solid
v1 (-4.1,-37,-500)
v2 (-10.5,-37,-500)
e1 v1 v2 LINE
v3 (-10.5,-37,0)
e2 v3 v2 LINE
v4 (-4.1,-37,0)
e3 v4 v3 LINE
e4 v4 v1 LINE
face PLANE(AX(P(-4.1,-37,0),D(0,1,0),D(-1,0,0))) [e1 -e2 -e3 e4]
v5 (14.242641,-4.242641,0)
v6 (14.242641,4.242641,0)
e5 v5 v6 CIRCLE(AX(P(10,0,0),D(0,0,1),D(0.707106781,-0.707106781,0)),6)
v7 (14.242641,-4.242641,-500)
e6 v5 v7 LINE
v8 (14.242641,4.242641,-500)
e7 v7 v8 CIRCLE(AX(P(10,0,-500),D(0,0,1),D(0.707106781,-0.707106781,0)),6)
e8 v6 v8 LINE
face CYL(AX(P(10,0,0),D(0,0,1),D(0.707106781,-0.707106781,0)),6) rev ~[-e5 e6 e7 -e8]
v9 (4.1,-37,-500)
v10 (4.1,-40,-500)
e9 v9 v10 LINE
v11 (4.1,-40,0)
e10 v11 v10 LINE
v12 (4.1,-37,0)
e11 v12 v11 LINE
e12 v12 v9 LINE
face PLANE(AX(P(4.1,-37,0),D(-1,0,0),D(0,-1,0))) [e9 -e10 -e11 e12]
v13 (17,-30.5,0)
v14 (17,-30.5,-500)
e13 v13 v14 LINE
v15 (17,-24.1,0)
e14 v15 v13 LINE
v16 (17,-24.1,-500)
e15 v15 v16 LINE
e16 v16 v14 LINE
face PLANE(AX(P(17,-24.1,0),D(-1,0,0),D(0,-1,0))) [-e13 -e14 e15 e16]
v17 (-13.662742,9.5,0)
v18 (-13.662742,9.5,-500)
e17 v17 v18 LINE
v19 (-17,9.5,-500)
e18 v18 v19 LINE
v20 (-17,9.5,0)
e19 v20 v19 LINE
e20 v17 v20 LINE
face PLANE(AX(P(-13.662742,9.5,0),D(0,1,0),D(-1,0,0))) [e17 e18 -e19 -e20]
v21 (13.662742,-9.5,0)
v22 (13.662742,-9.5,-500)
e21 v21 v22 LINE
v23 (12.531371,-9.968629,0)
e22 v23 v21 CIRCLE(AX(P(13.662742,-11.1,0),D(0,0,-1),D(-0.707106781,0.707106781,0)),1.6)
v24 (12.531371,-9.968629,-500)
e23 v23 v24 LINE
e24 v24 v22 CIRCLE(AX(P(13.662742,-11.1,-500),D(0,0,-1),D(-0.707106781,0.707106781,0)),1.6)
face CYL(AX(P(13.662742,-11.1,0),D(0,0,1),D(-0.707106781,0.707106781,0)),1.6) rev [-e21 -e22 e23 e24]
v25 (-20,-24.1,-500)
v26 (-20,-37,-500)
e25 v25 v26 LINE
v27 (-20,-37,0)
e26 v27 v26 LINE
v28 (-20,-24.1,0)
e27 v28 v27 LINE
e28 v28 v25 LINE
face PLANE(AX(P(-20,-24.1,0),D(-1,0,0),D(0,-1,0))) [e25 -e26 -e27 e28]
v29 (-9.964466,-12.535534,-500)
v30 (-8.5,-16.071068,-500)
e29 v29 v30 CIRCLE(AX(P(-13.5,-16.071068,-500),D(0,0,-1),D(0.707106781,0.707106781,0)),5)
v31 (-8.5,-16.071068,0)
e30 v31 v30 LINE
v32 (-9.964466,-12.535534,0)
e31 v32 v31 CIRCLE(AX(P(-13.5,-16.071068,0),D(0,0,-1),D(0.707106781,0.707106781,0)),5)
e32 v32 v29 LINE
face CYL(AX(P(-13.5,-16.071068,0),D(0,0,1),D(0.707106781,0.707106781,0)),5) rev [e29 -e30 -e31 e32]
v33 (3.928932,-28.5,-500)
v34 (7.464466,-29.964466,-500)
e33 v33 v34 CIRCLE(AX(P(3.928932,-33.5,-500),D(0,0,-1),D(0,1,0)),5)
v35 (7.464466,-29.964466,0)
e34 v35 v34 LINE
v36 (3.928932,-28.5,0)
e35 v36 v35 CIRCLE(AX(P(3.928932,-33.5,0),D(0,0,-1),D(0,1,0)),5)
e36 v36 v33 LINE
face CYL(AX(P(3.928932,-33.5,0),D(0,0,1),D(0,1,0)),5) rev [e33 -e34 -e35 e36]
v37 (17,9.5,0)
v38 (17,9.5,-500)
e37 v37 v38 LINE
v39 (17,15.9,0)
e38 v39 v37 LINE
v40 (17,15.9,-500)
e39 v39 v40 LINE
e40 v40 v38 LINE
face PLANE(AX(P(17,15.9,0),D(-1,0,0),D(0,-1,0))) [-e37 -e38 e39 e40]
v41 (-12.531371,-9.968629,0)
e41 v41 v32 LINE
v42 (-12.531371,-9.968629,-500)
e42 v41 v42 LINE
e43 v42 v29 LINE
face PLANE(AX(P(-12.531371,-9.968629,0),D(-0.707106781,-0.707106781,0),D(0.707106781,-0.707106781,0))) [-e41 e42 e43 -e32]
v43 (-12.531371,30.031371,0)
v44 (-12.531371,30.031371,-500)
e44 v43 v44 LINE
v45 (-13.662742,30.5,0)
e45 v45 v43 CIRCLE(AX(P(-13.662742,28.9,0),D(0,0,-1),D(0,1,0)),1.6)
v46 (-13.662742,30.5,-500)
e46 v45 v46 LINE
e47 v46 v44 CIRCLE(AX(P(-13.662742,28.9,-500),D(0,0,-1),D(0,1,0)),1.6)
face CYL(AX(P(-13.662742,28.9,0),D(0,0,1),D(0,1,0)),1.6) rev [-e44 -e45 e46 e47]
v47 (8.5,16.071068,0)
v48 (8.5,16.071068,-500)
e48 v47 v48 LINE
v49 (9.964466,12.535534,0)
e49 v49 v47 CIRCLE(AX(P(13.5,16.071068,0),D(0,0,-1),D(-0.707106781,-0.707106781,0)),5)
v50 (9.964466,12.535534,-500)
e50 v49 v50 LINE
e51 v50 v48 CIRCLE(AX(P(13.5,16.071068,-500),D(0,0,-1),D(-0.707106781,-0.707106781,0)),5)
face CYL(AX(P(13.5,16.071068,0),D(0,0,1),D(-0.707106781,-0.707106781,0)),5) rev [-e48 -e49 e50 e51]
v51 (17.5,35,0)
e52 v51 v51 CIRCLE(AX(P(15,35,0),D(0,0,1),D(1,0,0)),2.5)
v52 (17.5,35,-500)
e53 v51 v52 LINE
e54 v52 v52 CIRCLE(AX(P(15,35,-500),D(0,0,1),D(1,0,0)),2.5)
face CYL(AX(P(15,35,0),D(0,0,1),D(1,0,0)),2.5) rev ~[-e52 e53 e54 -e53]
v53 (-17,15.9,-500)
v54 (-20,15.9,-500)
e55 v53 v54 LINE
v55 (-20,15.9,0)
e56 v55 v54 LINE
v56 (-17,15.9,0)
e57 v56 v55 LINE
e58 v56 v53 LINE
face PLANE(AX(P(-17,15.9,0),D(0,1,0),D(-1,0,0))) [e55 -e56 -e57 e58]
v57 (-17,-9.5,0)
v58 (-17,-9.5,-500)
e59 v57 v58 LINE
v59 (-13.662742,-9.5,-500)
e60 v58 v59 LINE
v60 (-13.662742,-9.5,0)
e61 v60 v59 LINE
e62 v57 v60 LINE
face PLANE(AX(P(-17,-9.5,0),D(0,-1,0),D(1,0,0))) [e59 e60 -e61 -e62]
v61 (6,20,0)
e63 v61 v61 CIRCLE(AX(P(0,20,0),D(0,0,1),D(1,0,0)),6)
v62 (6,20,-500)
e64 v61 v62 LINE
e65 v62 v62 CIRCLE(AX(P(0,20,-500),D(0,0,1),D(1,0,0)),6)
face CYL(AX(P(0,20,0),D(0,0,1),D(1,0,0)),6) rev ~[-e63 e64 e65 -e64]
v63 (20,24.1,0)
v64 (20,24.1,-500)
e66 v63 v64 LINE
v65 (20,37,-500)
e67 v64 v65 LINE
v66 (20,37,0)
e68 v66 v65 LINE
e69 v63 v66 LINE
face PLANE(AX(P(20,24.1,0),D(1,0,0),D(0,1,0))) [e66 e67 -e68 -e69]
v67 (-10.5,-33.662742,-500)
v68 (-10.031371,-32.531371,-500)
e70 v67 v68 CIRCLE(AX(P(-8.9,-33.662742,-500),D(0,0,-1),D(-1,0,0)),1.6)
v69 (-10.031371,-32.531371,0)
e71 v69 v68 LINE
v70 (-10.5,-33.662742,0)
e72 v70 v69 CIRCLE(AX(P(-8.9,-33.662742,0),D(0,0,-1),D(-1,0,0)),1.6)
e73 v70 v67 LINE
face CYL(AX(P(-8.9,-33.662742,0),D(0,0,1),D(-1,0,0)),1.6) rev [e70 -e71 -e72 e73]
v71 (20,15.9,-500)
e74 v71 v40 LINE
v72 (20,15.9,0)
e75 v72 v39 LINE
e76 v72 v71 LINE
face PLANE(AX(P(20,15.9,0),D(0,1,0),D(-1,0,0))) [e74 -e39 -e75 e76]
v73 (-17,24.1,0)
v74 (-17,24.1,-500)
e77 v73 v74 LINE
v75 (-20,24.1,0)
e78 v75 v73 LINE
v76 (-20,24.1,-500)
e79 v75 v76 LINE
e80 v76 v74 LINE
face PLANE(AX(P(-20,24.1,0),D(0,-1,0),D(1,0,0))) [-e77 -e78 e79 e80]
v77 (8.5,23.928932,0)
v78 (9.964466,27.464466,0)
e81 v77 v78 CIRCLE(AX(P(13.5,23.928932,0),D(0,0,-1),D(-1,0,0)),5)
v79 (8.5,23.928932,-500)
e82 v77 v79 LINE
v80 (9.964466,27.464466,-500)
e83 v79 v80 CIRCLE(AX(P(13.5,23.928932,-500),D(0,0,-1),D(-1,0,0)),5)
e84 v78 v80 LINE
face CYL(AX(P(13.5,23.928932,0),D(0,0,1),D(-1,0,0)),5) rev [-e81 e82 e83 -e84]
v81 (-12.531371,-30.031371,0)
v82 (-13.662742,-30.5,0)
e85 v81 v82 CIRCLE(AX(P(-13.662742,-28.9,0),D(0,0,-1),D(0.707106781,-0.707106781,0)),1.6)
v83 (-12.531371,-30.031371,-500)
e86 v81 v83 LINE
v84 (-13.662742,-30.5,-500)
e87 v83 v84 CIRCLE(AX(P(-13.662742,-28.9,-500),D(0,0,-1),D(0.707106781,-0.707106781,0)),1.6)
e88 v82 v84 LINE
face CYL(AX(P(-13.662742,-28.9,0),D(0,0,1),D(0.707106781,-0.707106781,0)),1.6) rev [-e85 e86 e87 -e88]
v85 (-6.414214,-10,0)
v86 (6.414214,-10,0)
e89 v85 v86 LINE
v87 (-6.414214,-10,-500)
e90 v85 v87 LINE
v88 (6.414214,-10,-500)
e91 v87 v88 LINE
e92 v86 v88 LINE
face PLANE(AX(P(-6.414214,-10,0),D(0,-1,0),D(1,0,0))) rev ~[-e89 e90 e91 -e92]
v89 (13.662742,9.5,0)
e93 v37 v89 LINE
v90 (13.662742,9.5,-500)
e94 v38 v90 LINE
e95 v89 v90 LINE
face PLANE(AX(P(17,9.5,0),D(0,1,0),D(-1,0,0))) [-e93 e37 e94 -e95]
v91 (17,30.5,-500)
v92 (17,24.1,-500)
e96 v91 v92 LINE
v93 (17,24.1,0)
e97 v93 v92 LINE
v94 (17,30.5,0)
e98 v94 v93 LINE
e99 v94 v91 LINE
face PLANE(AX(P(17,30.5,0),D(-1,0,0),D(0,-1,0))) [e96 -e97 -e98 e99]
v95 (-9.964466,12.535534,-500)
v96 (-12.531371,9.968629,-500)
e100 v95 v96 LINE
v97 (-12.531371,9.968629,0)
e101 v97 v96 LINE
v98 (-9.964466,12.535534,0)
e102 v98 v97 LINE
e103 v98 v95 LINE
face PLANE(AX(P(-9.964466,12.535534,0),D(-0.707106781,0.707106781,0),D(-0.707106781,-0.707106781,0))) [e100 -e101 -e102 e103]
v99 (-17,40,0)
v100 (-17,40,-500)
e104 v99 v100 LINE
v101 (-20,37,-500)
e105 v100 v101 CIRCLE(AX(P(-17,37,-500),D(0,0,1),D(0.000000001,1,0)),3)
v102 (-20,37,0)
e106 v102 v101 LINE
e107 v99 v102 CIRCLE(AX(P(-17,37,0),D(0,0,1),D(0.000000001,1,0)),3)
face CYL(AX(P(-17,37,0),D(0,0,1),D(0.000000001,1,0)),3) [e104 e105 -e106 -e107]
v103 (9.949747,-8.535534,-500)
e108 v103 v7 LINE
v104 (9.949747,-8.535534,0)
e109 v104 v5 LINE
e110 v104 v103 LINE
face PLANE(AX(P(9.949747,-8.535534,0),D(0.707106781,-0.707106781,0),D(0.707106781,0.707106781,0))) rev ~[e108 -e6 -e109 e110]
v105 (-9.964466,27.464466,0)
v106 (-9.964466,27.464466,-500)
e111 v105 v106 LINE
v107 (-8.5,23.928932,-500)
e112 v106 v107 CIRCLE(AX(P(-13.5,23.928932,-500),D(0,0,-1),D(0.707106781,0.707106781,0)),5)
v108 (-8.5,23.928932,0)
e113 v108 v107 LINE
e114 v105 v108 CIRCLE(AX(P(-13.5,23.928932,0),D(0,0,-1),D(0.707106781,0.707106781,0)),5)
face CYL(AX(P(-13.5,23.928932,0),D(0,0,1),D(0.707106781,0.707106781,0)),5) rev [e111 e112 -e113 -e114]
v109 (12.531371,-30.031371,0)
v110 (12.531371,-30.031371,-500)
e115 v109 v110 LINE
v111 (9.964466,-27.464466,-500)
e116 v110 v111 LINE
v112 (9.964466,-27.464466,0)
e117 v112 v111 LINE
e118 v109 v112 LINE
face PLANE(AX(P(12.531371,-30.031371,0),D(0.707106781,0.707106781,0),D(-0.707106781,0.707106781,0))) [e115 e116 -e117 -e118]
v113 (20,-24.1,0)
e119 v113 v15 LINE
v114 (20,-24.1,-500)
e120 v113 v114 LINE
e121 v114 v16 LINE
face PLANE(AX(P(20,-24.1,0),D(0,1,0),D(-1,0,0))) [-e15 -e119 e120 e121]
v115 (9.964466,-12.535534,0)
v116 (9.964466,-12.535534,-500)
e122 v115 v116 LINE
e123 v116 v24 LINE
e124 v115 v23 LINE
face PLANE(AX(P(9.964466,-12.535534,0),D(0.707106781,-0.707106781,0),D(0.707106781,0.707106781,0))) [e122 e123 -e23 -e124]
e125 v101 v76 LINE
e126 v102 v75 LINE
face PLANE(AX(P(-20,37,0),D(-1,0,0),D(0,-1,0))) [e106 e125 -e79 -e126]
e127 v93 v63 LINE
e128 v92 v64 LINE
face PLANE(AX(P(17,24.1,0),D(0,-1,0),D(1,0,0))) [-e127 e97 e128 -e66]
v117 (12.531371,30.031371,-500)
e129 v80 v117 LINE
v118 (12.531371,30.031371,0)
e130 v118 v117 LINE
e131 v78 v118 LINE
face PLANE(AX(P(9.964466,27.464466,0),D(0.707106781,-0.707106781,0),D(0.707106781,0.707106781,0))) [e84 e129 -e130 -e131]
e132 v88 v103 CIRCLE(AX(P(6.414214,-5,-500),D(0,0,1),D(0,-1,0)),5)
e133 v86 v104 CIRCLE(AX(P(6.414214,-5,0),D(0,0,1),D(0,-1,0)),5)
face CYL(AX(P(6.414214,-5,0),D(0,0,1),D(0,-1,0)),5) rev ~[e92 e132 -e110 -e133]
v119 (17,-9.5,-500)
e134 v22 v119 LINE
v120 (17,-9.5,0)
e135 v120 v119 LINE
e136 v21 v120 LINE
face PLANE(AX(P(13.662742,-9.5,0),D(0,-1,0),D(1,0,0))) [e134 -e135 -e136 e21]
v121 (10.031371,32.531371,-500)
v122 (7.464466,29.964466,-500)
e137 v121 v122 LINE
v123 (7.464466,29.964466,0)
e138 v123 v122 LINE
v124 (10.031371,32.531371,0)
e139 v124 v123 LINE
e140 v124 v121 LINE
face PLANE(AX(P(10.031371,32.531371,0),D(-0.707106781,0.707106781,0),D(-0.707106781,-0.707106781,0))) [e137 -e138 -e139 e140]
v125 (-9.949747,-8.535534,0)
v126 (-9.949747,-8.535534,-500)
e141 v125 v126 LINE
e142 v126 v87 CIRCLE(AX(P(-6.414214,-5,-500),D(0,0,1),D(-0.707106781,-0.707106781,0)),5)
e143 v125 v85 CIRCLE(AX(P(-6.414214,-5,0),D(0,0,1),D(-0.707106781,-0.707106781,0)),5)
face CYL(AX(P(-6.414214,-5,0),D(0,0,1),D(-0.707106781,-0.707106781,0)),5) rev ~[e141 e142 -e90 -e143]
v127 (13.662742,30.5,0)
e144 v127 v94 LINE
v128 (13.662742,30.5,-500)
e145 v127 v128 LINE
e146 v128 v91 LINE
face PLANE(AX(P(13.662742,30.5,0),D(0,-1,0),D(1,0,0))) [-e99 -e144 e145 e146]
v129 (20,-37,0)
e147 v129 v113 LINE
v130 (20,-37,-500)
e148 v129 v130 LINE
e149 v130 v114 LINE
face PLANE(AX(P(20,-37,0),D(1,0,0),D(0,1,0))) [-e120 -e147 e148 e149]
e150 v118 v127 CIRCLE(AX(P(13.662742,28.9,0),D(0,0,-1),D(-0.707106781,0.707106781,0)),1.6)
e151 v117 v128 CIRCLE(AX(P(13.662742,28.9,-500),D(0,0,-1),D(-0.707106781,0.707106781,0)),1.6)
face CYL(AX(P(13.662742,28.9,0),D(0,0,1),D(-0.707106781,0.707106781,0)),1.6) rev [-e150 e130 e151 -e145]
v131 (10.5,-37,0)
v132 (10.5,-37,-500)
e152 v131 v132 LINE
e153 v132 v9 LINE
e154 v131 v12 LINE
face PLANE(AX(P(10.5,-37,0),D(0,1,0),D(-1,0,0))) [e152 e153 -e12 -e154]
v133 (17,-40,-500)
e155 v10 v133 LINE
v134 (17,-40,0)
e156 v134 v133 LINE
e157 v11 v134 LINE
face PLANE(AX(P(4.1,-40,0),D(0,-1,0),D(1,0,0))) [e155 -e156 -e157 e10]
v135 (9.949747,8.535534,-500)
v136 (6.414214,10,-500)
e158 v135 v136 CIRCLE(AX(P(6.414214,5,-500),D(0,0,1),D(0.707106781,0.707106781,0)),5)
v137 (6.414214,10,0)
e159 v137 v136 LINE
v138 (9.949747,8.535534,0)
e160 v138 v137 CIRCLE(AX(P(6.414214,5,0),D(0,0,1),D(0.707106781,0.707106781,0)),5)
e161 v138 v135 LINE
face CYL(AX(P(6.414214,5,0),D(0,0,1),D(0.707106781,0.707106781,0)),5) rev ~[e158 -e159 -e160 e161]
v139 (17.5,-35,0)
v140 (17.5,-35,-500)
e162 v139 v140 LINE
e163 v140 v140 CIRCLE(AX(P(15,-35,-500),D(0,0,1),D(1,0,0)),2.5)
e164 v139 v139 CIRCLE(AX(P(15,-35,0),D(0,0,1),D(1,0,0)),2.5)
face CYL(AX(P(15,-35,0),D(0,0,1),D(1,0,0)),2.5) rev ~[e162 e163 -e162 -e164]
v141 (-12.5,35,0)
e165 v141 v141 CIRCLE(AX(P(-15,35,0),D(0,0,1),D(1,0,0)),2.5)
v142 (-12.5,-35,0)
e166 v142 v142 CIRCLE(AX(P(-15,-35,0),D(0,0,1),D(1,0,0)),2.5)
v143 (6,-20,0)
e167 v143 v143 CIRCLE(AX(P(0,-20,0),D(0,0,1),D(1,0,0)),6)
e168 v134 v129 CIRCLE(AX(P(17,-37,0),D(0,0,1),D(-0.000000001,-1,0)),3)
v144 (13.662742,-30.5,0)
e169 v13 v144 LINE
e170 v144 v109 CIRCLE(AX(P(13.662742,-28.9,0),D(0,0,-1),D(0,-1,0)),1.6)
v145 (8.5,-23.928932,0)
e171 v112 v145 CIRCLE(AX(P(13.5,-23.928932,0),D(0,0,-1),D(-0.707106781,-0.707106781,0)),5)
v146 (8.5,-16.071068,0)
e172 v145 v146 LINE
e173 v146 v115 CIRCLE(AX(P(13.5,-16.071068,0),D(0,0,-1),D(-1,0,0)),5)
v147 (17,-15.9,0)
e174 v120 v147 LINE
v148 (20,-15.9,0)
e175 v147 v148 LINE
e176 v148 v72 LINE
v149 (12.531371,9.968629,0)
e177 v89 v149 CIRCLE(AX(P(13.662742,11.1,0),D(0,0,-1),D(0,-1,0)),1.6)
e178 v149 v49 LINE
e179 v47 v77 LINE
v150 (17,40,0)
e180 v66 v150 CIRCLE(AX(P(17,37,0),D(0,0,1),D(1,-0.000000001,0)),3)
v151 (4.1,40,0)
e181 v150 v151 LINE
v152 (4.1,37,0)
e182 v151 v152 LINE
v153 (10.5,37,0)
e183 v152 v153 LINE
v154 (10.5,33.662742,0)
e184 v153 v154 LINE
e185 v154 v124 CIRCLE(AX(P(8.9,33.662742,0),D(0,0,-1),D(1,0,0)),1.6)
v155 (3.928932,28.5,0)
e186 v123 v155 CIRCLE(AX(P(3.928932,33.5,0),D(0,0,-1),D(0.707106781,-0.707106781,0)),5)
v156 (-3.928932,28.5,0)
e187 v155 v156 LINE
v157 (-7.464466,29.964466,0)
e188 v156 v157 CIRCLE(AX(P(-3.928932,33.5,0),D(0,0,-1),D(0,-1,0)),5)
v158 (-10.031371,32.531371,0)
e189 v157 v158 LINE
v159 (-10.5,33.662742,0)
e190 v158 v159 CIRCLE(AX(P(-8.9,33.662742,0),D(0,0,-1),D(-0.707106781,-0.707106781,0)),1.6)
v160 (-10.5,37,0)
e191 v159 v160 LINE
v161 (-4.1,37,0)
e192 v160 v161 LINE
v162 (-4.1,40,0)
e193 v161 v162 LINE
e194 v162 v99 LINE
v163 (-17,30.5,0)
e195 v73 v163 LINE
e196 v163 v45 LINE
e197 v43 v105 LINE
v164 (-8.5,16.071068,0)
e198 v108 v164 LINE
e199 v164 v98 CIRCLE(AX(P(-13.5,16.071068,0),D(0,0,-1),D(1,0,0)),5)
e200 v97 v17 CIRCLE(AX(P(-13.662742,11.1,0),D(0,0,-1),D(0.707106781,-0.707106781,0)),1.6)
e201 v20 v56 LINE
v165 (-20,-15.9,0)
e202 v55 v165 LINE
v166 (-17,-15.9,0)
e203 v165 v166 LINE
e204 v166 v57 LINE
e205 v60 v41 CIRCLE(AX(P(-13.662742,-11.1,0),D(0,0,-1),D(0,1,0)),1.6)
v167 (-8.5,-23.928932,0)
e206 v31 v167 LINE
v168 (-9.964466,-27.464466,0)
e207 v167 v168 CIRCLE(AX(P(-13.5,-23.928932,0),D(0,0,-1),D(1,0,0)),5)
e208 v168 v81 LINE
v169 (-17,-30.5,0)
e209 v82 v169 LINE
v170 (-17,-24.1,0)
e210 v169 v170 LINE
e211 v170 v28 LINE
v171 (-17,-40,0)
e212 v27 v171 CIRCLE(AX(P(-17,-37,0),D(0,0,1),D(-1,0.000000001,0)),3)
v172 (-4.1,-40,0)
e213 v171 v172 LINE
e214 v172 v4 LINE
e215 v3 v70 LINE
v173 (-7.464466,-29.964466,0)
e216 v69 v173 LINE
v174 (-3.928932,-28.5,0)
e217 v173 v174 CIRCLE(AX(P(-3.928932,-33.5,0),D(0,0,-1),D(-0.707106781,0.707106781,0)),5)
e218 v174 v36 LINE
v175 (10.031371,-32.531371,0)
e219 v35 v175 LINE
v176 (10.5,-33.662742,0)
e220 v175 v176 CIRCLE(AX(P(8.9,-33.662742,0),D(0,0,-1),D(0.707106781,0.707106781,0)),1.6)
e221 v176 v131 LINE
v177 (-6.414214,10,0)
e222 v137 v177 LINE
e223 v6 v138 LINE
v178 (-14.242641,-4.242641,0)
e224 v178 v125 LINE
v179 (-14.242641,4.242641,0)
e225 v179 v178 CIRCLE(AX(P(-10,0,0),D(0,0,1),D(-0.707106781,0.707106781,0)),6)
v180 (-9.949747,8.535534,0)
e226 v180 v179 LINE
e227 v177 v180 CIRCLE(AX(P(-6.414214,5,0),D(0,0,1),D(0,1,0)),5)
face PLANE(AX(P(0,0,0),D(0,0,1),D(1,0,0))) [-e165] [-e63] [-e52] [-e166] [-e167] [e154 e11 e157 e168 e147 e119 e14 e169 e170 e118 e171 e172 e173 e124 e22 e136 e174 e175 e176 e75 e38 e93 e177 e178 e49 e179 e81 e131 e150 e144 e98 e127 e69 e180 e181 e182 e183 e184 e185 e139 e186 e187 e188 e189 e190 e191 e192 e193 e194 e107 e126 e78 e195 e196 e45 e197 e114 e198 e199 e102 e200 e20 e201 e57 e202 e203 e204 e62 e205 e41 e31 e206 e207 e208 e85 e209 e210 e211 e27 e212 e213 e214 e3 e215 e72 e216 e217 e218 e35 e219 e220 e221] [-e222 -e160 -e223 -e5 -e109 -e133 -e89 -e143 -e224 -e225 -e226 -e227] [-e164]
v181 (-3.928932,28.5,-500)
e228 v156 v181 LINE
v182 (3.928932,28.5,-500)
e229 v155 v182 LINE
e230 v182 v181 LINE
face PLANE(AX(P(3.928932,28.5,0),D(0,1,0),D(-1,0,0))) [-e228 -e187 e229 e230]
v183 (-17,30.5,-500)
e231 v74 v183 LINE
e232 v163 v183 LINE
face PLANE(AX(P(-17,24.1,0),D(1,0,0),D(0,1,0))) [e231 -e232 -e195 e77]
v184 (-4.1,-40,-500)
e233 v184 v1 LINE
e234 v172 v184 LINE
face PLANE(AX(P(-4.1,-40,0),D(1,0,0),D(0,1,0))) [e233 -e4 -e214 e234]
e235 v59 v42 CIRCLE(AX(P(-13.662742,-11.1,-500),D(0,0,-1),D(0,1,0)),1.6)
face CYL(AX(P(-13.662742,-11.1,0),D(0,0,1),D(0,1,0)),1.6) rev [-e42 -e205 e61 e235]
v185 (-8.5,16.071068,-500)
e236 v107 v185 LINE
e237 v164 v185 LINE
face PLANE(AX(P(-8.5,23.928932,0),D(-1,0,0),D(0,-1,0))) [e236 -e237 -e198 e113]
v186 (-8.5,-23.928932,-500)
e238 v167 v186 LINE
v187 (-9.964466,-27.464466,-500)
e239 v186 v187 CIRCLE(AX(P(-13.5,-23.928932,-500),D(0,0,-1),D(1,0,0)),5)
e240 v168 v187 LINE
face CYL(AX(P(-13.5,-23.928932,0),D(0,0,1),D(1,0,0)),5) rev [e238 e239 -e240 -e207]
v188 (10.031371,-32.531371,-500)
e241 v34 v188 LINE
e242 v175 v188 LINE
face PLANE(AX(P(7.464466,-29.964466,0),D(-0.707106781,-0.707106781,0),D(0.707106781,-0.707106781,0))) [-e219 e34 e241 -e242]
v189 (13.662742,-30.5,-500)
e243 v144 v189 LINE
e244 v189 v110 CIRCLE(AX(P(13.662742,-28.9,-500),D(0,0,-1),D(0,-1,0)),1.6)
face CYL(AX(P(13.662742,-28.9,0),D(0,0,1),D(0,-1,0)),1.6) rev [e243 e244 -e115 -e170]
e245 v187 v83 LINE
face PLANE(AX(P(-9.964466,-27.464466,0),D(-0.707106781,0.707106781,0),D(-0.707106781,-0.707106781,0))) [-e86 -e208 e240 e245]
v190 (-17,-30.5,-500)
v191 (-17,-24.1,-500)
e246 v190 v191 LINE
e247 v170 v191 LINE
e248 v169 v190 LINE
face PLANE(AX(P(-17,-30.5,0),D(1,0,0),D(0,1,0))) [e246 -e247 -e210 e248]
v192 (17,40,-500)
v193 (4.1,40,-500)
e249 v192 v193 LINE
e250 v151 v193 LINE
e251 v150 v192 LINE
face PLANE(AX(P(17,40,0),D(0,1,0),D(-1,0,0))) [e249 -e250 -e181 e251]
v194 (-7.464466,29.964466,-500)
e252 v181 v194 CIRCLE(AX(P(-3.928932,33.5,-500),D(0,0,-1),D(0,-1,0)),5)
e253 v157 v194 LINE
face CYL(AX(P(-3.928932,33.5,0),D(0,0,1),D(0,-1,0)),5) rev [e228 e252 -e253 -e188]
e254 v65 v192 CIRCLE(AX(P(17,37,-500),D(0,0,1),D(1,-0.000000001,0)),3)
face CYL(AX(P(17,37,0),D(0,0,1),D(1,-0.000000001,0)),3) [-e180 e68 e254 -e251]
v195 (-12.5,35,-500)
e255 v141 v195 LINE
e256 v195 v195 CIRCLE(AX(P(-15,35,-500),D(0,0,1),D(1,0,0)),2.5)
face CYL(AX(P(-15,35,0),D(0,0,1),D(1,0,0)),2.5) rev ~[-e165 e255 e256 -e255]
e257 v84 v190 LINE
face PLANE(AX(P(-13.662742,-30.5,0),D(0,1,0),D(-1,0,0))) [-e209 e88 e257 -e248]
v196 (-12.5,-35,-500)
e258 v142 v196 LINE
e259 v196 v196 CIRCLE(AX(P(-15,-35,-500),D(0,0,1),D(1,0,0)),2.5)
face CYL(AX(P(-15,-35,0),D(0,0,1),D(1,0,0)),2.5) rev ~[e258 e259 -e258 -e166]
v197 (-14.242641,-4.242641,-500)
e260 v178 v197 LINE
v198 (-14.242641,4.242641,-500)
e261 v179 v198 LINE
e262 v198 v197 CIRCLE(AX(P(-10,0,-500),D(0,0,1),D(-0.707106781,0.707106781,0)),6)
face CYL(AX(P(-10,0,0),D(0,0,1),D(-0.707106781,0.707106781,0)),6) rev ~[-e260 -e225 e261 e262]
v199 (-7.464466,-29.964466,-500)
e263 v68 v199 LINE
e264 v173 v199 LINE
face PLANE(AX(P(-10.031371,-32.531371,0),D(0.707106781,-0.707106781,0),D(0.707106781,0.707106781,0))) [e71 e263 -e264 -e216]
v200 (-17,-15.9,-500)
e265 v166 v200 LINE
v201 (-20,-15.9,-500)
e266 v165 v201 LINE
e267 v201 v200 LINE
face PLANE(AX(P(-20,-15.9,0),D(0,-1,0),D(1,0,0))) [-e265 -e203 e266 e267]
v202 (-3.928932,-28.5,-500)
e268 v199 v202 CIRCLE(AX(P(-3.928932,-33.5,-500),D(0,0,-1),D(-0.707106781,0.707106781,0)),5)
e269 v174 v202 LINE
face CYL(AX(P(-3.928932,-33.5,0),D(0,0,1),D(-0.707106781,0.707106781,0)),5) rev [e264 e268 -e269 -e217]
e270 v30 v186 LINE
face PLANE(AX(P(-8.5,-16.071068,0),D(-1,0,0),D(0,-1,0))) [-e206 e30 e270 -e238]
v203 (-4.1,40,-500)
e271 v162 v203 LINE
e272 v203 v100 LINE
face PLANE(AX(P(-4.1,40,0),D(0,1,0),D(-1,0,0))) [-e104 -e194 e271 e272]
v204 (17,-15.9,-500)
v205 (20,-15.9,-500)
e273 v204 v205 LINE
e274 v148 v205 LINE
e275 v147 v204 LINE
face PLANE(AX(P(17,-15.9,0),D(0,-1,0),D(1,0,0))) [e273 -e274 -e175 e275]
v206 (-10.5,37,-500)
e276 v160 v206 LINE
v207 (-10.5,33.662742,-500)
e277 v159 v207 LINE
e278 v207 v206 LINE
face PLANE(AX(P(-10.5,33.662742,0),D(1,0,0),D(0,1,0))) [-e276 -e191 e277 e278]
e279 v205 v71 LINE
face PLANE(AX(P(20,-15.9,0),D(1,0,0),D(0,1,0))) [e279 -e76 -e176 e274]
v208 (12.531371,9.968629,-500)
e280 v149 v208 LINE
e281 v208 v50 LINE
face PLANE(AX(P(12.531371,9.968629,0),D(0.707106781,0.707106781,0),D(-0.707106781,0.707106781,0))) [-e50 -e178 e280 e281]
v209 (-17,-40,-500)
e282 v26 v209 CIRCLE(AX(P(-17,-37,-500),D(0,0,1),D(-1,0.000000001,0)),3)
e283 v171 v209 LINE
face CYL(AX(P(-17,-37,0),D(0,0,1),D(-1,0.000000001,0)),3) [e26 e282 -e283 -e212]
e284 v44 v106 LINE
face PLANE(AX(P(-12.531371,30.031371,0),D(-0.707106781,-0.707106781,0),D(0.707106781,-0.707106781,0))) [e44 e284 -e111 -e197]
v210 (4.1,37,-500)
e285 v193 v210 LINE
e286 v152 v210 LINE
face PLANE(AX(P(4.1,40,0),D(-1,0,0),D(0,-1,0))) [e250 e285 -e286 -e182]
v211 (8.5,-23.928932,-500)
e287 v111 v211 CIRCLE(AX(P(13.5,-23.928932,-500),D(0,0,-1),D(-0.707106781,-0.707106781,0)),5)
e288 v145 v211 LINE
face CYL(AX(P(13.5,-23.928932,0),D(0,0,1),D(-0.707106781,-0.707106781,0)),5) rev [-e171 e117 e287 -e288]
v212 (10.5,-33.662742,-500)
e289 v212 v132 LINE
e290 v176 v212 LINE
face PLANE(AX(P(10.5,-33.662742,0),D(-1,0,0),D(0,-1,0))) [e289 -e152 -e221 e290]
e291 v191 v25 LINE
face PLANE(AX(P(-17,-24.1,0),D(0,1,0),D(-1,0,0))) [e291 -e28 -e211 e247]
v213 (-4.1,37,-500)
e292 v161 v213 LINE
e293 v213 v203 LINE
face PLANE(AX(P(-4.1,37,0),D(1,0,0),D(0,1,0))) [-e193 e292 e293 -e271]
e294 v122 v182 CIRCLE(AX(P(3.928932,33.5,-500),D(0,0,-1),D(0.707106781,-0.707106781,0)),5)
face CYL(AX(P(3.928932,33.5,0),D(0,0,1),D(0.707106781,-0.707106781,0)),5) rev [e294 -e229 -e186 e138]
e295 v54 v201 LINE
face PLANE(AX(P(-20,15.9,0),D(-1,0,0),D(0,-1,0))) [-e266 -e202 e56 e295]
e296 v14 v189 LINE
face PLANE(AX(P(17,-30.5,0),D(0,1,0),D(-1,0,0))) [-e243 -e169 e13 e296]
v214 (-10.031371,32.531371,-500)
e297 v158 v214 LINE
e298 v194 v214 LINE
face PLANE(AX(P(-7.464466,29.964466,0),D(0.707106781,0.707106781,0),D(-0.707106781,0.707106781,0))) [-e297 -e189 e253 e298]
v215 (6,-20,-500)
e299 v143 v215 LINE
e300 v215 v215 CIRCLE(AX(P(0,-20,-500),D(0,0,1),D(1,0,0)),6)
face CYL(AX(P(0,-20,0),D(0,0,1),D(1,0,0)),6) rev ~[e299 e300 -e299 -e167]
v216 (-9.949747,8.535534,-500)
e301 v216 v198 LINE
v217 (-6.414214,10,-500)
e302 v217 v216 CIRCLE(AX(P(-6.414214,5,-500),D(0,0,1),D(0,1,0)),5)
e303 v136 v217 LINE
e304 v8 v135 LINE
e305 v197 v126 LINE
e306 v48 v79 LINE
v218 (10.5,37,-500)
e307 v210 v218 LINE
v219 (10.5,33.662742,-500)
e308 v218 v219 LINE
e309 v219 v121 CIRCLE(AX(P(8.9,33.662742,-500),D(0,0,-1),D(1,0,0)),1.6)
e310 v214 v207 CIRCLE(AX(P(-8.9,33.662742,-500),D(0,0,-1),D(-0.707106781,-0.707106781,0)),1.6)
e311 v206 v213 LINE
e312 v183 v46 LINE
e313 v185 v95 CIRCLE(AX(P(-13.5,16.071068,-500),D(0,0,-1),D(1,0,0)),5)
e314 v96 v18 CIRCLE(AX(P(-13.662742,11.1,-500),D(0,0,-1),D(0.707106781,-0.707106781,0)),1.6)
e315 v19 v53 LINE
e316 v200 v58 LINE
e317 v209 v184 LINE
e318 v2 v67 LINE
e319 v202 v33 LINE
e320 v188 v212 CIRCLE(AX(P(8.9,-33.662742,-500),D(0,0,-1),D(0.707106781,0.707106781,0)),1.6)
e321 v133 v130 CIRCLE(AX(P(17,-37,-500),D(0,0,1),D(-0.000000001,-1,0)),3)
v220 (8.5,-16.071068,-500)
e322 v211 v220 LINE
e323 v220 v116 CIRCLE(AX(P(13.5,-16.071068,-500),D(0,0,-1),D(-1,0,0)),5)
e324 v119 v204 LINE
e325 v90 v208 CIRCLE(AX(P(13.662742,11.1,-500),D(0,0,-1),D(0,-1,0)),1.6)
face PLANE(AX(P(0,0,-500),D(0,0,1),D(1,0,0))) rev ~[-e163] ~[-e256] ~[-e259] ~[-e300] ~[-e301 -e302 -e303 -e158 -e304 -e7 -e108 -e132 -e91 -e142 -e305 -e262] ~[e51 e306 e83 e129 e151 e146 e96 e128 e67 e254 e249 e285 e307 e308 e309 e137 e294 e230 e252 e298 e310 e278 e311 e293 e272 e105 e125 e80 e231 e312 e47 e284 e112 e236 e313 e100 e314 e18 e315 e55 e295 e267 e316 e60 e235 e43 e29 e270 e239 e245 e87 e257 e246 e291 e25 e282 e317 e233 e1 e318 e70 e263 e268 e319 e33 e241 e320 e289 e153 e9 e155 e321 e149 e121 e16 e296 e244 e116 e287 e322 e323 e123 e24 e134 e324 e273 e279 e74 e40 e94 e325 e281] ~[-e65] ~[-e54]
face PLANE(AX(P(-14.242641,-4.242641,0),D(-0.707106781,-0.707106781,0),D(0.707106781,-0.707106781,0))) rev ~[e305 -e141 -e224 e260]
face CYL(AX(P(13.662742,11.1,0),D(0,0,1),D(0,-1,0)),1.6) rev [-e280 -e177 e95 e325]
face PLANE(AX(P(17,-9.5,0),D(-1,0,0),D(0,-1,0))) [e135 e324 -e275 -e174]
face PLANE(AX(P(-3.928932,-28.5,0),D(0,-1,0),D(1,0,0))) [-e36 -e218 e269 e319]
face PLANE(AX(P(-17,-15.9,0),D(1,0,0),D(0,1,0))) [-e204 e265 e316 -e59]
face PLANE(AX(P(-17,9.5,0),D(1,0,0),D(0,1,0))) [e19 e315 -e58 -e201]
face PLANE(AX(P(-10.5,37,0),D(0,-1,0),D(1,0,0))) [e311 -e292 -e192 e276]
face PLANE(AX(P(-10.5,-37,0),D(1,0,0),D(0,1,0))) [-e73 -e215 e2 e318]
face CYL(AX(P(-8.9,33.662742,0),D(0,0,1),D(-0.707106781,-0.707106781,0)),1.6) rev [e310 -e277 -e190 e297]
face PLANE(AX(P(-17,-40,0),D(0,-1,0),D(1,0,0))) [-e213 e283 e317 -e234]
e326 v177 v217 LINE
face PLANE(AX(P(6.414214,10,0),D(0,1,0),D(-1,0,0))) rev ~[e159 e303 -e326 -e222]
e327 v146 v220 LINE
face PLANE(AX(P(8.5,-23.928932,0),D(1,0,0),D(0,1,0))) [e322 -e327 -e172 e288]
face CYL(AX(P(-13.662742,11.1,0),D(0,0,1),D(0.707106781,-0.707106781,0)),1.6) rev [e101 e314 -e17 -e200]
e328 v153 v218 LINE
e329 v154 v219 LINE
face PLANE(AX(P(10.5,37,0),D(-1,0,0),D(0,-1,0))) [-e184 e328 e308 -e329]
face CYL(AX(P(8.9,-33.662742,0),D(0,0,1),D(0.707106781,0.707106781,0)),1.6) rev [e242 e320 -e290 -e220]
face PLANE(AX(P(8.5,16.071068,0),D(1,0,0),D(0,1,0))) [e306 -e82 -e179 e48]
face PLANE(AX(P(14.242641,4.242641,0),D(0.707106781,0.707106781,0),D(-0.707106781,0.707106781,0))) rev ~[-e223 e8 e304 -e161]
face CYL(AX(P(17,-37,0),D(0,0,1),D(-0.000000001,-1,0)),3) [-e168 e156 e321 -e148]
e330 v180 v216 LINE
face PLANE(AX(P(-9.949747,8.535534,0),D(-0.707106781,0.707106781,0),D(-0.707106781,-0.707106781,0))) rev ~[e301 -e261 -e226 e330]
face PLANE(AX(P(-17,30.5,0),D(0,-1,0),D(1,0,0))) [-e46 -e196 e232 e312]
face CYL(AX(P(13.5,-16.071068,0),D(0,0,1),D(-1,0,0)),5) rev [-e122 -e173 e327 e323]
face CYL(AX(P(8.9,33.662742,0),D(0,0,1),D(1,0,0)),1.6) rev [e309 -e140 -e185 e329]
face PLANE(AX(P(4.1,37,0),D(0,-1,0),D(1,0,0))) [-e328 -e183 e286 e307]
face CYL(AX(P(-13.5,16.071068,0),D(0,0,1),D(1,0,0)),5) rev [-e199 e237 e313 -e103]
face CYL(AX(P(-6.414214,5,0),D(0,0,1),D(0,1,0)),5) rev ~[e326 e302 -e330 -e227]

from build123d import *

# Parameters (mm, degrees)
SKETCH1_R           = 2.5
SKETCH1_R_2         = 6
BOSS_EXTRUDE1_DEPTH = 500


with BuildPart() as part:
    # Sketch1 → Boss-Extrude1 (new body)
    with BuildSketch(Plane.XY):
        with BuildLine():
            Line((-17, -40), (-4.1, -40))
            Line((-4.1, -40), (-4.1, -37))
            Line((-4.1, -37), (-10.5, -37))
            Line((-10.5, -37), (-10.5, -33.6627417))
            ThreePointArc((-10.5, -33.6627417), (-10.378207252, -33.050448208), (-10.03137085, -32.53137085))
            Line((-10.03137085, -32.53137085), (-7.464466094, -29.964466094))
            ThreePointArc((-7.464466094, -29.964466094), (-5.84234935, -28.880602337), (-3.928932188, -28.5))
            Line((-3.928932188, -28.5), (3.928932188, -28.5))
            ThreePointArc((3.928932188, -28.5), (5.84234935, -28.880602337), (7.464466094, -29.964466094))
            Line((7.464466094, -29.964466094), (10.03137085, -32.53137085))
            ThreePointArc((10.03137085, -32.53137085), (10.378207252, -33.050448208), (10.5, -33.6627417))
            Line((10.5, -33.6627417), (10.5, -37))
            Line((10.5, -37), (4.1, -37))
            Line((4.1, -37), (4.1, -40))
            Line((4.1, -40), (17, -40))
            ThreePointArc((17, -40), (19.121320344, -39.121320344), (20, -37))
            Line((20, -37), (20, -24.1))
            Line((20, -24.1), (17, -24.1))
            Line((17, -24.1), (17, -30.5))
            Line((17, -30.5), (13.6627417, -30.5))
            ThreePointArc((13.6627417, -30.5), (13.050448208, -30.378207252), (12.53137085, -30.03137085))
            Line((12.53137085, -30.03137085), (9.964466094, -27.464466094))
            ThreePointArc((9.964466094, -27.464466094), (8.880602337, -25.84234935), (8.5, -23.928932188))
            Line((8.5, -23.928932188), (8.5, -16.071067812))
            ThreePointArc((8.5, -16.071067812), (8.880602337, -14.15765065), (9.964466094, -12.535533906))
            Line((9.964466094, -12.535533906), (12.53137085, -9.96862915))
            ThreePointArc((12.53137085, -9.96862915), (13.050448208, -9.621792748), (13.6627417, -9.5))
            Line((13.6627417, -9.5), (17, -9.5))
            Line((17, -9.5), (17, -15.9))
            Line((17, -15.9), (20, -15.9))
            Line((20, -15.9), (20, 15.9))
            Line((20, 15.9), (17, 15.9))
            Line((17, 15.9), (17, 9.5))
            Line((17, 9.5), (13.6627417, 9.5))
            ThreePointArc((13.6627417, 9.5), (13.050448208, 9.621792748), (12.53137085, 9.96862915))
            Line((12.53137085, 9.96862915), (9.964466094, 12.535533906))
            ThreePointArc((9.964466094, 12.535533906), (8.880602337, 14.15765065), (8.5, 16.071067812))
            Line((8.5, 16.071067812), (8.5, 23.928932188))
            ThreePointArc((8.5, 23.928932188), (8.880602337, 25.84234935), (9.964466094, 27.464466094))
            Line((9.964466094, 27.464466094), (12.53137085, 30.03137085))
            ThreePointArc((12.53137085, 30.03137085), (13.050448208, 30.378207252), (13.6627417, 30.5))
            Line((13.6627417, 30.5), (17, 30.5))
            Line((17, 30.5), (17, 24.1))
            Line((17, 24.1), (20, 24.1))
            Line((20, 24.1), (20, 37))
            ThreePointArc((20, 37), (19.121320344, 39.121320344), (17, 40))
            Line((17, 40), (4.1, 40))
            Line((4.1, 40), (4.1, 37))
            Line((4.1, 37), (10.5, 37))
            Line((10.5, 37), (10.5, 33.6627417))
            ThreePointArc((10.5, 33.6627417), (10.378207252, 33.050448208), (10.03137085, 32.53137085))
            Line((10.03137085, 32.53137085), (7.464466094, 29.964466094))
            ThreePointArc((7.464466094, 29.964466094), (5.84234935, 28.880602337), (3.928932188, 28.5))
            Line((3.928932188, 28.5), (-3.928932188, 28.5))
            ThreePointArc((-3.928932188, 28.5), (-5.84234935, 28.880602337), (-7.464466094, 29.964466094))
            Line((-7.464466094, 29.964466094), (-10.03137085, 32.53137085))
            ThreePointArc((-10.03137085, 32.53137085), (-10.378207252, 33.050448208), (-10.5, 33.6627417))
            Line((-10.5, 33.6627417), (-10.5, 37))
            Line((-10.5, 37), (-4.1, 37))
            Line((-4.1, 37), (-4.1, 40))
            Line((-4.1, 40), (-17, 40))
            ThreePointArc((-17, 40), (-19.121320344, 39.121320344), (-20, 37))
            Line((-20, 37), (-20, 24.1))
            Line((-20, 24.1), (-17, 24.1))
            Line((-17, 24.1), (-17, 30.5))
            Line((-17, 30.5), (-13.6627417, 30.5))
            ThreePointArc((-13.6627417, 30.5), (-13.050448208, 30.378207252), (-12.53137085, 30.03137085))
            Line((-12.53137085, 30.03137085), (-9.964466094, 27.464466094))
            ThreePointArc((-9.964466094, 27.464466094), (-8.880602337, 25.84234935), (-8.5, 23.928932188))
            Line((-8.5, 23.928932188), (-8.5, 16.071067812))
            ThreePointArc((-8.5, 16.071067812), (-8.880602337, 14.15765065), (-9.964466094, 12.535533906))
            Line((-9.964466094, 12.535533906), (-12.53137085, 9.96862915))
            ThreePointArc((-12.53137085, 9.96862915), (-13.050448208, 9.621792748), (-13.6627417, 9.5))
            Line((-13.6627417, 9.5), (-17, 9.5))
            Line((-17, 9.5), (-17, 15.9))
            Line((-17, 15.9), (-20, 15.9))
            Line((-20, 15.9), (-20, -15.9))
            Line((-20, -15.9), (-17, -15.9))
            Line((-17, -15.9), (-17, -9.5))
            Line((-17, -9.5), (-13.6627417, -9.5))
            ThreePointArc((-13.6627417, -9.5), (-13.050448208, -9.621792748), (-12.53137085, -9.96862915))
            Line((-12.53137085, -9.96862915), (-9.964466094, -12.535533906))
            ThreePointArc((-9.964466094, -12.535533906), (-8.880602337, -14.15765065), (-8.5, -16.071067812))
            Line((-8.5, -16.071067812), (-8.5, -23.928932188))
            ThreePointArc((-8.5, -23.928932188), (-8.880602337, -25.84234935), (-9.964466094, -27.464466094))
            Line((-9.964466094, -27.464466094), (-12.53137085, -30.03137085))
            ThreePointArc((-12.53137085, -30.03137085), (-13.050448208, -30.378207252), (-13.6627417, -30.5))
            Line((-13.6627417, -30.5), (-17, -30.5))
            Line((-17, -30.5), (-17, -24.1))
            Line((-17, -24.1), (-20, -24.1))
            Line((-20, -24.1), (-20, -37))
            ThreePointArc((-20, -37), (-19.121320344, -39.121320344), (-17, -40))
        make_face()
        with Locations((15, 35)):
            Circle(SKETCH1_R, mode=Mode.SUBTRACT)
        with Locations((15, -35)):
            Circle(SKETCH1_R, mode=Mode.SUBTRACT)
        with Locations((0, 20)):
            Circle(SKETCH1_R_2, mode=Mode.SUBTRACT)
        with Locations((0, -20)):
            Circle(SKETCH1_R_2, mode=Mode.SUBTRACT)
        with Locations((-15, 35)):
            Circle(SKETCH1_R, mode=Mode.SUBTRACT)
        with Locations((-15, -35)):
            Circle(SKETCH1_R, mode=Mode.SUBTRACT)
        with BuildLine():
            Line((-14.242640687, -4.242640687), (-9.949747468, -8.535533906))
            ThreePointArc((-9.949747468, -8.535533906), (-8.327630724, -9.619397663), (-6.414213562, -10))
            Line((-6.414213562, -10), (6.414213562, -10))
            ThreePointArc((6.414213562, -10), (8.327630724, -9.619397663), (9.949747468, -8.535533906))
            Line((9.949747468, -8.535533906), (14.242640687, -4.242640687))
            ThreePointArc((14.242640687, -4.242640687), (16, 0), (14.242640687, 4.242640687))
            Line((14.242640687, 4.242640687), (9.949747468, 8.535533906))
            ThreePointArc((9.949747468, 8.535533906), (8.327630724, 9.619397663), (6.414213562, 10))
            Line((6.414213562, 10), (-6.414213562, 10))
            ThreePointArc((-6.414213562, 10), (-8.327630724, 9.619397663), (-9.949747468, 8.535533906))
            Line((-9.949747468, 8.535533906), (-14.242640687, 4.242640687))
            ThreePointArc((-14.242640687, 4.242640687), (-16, 0), (-14.242640687, -4.242640687))
        make_face(mode=Mode.SUBTRACT)
    extrude(amount=-BOSS_EXTRUDE1_DEPTH)


solid = part.part
